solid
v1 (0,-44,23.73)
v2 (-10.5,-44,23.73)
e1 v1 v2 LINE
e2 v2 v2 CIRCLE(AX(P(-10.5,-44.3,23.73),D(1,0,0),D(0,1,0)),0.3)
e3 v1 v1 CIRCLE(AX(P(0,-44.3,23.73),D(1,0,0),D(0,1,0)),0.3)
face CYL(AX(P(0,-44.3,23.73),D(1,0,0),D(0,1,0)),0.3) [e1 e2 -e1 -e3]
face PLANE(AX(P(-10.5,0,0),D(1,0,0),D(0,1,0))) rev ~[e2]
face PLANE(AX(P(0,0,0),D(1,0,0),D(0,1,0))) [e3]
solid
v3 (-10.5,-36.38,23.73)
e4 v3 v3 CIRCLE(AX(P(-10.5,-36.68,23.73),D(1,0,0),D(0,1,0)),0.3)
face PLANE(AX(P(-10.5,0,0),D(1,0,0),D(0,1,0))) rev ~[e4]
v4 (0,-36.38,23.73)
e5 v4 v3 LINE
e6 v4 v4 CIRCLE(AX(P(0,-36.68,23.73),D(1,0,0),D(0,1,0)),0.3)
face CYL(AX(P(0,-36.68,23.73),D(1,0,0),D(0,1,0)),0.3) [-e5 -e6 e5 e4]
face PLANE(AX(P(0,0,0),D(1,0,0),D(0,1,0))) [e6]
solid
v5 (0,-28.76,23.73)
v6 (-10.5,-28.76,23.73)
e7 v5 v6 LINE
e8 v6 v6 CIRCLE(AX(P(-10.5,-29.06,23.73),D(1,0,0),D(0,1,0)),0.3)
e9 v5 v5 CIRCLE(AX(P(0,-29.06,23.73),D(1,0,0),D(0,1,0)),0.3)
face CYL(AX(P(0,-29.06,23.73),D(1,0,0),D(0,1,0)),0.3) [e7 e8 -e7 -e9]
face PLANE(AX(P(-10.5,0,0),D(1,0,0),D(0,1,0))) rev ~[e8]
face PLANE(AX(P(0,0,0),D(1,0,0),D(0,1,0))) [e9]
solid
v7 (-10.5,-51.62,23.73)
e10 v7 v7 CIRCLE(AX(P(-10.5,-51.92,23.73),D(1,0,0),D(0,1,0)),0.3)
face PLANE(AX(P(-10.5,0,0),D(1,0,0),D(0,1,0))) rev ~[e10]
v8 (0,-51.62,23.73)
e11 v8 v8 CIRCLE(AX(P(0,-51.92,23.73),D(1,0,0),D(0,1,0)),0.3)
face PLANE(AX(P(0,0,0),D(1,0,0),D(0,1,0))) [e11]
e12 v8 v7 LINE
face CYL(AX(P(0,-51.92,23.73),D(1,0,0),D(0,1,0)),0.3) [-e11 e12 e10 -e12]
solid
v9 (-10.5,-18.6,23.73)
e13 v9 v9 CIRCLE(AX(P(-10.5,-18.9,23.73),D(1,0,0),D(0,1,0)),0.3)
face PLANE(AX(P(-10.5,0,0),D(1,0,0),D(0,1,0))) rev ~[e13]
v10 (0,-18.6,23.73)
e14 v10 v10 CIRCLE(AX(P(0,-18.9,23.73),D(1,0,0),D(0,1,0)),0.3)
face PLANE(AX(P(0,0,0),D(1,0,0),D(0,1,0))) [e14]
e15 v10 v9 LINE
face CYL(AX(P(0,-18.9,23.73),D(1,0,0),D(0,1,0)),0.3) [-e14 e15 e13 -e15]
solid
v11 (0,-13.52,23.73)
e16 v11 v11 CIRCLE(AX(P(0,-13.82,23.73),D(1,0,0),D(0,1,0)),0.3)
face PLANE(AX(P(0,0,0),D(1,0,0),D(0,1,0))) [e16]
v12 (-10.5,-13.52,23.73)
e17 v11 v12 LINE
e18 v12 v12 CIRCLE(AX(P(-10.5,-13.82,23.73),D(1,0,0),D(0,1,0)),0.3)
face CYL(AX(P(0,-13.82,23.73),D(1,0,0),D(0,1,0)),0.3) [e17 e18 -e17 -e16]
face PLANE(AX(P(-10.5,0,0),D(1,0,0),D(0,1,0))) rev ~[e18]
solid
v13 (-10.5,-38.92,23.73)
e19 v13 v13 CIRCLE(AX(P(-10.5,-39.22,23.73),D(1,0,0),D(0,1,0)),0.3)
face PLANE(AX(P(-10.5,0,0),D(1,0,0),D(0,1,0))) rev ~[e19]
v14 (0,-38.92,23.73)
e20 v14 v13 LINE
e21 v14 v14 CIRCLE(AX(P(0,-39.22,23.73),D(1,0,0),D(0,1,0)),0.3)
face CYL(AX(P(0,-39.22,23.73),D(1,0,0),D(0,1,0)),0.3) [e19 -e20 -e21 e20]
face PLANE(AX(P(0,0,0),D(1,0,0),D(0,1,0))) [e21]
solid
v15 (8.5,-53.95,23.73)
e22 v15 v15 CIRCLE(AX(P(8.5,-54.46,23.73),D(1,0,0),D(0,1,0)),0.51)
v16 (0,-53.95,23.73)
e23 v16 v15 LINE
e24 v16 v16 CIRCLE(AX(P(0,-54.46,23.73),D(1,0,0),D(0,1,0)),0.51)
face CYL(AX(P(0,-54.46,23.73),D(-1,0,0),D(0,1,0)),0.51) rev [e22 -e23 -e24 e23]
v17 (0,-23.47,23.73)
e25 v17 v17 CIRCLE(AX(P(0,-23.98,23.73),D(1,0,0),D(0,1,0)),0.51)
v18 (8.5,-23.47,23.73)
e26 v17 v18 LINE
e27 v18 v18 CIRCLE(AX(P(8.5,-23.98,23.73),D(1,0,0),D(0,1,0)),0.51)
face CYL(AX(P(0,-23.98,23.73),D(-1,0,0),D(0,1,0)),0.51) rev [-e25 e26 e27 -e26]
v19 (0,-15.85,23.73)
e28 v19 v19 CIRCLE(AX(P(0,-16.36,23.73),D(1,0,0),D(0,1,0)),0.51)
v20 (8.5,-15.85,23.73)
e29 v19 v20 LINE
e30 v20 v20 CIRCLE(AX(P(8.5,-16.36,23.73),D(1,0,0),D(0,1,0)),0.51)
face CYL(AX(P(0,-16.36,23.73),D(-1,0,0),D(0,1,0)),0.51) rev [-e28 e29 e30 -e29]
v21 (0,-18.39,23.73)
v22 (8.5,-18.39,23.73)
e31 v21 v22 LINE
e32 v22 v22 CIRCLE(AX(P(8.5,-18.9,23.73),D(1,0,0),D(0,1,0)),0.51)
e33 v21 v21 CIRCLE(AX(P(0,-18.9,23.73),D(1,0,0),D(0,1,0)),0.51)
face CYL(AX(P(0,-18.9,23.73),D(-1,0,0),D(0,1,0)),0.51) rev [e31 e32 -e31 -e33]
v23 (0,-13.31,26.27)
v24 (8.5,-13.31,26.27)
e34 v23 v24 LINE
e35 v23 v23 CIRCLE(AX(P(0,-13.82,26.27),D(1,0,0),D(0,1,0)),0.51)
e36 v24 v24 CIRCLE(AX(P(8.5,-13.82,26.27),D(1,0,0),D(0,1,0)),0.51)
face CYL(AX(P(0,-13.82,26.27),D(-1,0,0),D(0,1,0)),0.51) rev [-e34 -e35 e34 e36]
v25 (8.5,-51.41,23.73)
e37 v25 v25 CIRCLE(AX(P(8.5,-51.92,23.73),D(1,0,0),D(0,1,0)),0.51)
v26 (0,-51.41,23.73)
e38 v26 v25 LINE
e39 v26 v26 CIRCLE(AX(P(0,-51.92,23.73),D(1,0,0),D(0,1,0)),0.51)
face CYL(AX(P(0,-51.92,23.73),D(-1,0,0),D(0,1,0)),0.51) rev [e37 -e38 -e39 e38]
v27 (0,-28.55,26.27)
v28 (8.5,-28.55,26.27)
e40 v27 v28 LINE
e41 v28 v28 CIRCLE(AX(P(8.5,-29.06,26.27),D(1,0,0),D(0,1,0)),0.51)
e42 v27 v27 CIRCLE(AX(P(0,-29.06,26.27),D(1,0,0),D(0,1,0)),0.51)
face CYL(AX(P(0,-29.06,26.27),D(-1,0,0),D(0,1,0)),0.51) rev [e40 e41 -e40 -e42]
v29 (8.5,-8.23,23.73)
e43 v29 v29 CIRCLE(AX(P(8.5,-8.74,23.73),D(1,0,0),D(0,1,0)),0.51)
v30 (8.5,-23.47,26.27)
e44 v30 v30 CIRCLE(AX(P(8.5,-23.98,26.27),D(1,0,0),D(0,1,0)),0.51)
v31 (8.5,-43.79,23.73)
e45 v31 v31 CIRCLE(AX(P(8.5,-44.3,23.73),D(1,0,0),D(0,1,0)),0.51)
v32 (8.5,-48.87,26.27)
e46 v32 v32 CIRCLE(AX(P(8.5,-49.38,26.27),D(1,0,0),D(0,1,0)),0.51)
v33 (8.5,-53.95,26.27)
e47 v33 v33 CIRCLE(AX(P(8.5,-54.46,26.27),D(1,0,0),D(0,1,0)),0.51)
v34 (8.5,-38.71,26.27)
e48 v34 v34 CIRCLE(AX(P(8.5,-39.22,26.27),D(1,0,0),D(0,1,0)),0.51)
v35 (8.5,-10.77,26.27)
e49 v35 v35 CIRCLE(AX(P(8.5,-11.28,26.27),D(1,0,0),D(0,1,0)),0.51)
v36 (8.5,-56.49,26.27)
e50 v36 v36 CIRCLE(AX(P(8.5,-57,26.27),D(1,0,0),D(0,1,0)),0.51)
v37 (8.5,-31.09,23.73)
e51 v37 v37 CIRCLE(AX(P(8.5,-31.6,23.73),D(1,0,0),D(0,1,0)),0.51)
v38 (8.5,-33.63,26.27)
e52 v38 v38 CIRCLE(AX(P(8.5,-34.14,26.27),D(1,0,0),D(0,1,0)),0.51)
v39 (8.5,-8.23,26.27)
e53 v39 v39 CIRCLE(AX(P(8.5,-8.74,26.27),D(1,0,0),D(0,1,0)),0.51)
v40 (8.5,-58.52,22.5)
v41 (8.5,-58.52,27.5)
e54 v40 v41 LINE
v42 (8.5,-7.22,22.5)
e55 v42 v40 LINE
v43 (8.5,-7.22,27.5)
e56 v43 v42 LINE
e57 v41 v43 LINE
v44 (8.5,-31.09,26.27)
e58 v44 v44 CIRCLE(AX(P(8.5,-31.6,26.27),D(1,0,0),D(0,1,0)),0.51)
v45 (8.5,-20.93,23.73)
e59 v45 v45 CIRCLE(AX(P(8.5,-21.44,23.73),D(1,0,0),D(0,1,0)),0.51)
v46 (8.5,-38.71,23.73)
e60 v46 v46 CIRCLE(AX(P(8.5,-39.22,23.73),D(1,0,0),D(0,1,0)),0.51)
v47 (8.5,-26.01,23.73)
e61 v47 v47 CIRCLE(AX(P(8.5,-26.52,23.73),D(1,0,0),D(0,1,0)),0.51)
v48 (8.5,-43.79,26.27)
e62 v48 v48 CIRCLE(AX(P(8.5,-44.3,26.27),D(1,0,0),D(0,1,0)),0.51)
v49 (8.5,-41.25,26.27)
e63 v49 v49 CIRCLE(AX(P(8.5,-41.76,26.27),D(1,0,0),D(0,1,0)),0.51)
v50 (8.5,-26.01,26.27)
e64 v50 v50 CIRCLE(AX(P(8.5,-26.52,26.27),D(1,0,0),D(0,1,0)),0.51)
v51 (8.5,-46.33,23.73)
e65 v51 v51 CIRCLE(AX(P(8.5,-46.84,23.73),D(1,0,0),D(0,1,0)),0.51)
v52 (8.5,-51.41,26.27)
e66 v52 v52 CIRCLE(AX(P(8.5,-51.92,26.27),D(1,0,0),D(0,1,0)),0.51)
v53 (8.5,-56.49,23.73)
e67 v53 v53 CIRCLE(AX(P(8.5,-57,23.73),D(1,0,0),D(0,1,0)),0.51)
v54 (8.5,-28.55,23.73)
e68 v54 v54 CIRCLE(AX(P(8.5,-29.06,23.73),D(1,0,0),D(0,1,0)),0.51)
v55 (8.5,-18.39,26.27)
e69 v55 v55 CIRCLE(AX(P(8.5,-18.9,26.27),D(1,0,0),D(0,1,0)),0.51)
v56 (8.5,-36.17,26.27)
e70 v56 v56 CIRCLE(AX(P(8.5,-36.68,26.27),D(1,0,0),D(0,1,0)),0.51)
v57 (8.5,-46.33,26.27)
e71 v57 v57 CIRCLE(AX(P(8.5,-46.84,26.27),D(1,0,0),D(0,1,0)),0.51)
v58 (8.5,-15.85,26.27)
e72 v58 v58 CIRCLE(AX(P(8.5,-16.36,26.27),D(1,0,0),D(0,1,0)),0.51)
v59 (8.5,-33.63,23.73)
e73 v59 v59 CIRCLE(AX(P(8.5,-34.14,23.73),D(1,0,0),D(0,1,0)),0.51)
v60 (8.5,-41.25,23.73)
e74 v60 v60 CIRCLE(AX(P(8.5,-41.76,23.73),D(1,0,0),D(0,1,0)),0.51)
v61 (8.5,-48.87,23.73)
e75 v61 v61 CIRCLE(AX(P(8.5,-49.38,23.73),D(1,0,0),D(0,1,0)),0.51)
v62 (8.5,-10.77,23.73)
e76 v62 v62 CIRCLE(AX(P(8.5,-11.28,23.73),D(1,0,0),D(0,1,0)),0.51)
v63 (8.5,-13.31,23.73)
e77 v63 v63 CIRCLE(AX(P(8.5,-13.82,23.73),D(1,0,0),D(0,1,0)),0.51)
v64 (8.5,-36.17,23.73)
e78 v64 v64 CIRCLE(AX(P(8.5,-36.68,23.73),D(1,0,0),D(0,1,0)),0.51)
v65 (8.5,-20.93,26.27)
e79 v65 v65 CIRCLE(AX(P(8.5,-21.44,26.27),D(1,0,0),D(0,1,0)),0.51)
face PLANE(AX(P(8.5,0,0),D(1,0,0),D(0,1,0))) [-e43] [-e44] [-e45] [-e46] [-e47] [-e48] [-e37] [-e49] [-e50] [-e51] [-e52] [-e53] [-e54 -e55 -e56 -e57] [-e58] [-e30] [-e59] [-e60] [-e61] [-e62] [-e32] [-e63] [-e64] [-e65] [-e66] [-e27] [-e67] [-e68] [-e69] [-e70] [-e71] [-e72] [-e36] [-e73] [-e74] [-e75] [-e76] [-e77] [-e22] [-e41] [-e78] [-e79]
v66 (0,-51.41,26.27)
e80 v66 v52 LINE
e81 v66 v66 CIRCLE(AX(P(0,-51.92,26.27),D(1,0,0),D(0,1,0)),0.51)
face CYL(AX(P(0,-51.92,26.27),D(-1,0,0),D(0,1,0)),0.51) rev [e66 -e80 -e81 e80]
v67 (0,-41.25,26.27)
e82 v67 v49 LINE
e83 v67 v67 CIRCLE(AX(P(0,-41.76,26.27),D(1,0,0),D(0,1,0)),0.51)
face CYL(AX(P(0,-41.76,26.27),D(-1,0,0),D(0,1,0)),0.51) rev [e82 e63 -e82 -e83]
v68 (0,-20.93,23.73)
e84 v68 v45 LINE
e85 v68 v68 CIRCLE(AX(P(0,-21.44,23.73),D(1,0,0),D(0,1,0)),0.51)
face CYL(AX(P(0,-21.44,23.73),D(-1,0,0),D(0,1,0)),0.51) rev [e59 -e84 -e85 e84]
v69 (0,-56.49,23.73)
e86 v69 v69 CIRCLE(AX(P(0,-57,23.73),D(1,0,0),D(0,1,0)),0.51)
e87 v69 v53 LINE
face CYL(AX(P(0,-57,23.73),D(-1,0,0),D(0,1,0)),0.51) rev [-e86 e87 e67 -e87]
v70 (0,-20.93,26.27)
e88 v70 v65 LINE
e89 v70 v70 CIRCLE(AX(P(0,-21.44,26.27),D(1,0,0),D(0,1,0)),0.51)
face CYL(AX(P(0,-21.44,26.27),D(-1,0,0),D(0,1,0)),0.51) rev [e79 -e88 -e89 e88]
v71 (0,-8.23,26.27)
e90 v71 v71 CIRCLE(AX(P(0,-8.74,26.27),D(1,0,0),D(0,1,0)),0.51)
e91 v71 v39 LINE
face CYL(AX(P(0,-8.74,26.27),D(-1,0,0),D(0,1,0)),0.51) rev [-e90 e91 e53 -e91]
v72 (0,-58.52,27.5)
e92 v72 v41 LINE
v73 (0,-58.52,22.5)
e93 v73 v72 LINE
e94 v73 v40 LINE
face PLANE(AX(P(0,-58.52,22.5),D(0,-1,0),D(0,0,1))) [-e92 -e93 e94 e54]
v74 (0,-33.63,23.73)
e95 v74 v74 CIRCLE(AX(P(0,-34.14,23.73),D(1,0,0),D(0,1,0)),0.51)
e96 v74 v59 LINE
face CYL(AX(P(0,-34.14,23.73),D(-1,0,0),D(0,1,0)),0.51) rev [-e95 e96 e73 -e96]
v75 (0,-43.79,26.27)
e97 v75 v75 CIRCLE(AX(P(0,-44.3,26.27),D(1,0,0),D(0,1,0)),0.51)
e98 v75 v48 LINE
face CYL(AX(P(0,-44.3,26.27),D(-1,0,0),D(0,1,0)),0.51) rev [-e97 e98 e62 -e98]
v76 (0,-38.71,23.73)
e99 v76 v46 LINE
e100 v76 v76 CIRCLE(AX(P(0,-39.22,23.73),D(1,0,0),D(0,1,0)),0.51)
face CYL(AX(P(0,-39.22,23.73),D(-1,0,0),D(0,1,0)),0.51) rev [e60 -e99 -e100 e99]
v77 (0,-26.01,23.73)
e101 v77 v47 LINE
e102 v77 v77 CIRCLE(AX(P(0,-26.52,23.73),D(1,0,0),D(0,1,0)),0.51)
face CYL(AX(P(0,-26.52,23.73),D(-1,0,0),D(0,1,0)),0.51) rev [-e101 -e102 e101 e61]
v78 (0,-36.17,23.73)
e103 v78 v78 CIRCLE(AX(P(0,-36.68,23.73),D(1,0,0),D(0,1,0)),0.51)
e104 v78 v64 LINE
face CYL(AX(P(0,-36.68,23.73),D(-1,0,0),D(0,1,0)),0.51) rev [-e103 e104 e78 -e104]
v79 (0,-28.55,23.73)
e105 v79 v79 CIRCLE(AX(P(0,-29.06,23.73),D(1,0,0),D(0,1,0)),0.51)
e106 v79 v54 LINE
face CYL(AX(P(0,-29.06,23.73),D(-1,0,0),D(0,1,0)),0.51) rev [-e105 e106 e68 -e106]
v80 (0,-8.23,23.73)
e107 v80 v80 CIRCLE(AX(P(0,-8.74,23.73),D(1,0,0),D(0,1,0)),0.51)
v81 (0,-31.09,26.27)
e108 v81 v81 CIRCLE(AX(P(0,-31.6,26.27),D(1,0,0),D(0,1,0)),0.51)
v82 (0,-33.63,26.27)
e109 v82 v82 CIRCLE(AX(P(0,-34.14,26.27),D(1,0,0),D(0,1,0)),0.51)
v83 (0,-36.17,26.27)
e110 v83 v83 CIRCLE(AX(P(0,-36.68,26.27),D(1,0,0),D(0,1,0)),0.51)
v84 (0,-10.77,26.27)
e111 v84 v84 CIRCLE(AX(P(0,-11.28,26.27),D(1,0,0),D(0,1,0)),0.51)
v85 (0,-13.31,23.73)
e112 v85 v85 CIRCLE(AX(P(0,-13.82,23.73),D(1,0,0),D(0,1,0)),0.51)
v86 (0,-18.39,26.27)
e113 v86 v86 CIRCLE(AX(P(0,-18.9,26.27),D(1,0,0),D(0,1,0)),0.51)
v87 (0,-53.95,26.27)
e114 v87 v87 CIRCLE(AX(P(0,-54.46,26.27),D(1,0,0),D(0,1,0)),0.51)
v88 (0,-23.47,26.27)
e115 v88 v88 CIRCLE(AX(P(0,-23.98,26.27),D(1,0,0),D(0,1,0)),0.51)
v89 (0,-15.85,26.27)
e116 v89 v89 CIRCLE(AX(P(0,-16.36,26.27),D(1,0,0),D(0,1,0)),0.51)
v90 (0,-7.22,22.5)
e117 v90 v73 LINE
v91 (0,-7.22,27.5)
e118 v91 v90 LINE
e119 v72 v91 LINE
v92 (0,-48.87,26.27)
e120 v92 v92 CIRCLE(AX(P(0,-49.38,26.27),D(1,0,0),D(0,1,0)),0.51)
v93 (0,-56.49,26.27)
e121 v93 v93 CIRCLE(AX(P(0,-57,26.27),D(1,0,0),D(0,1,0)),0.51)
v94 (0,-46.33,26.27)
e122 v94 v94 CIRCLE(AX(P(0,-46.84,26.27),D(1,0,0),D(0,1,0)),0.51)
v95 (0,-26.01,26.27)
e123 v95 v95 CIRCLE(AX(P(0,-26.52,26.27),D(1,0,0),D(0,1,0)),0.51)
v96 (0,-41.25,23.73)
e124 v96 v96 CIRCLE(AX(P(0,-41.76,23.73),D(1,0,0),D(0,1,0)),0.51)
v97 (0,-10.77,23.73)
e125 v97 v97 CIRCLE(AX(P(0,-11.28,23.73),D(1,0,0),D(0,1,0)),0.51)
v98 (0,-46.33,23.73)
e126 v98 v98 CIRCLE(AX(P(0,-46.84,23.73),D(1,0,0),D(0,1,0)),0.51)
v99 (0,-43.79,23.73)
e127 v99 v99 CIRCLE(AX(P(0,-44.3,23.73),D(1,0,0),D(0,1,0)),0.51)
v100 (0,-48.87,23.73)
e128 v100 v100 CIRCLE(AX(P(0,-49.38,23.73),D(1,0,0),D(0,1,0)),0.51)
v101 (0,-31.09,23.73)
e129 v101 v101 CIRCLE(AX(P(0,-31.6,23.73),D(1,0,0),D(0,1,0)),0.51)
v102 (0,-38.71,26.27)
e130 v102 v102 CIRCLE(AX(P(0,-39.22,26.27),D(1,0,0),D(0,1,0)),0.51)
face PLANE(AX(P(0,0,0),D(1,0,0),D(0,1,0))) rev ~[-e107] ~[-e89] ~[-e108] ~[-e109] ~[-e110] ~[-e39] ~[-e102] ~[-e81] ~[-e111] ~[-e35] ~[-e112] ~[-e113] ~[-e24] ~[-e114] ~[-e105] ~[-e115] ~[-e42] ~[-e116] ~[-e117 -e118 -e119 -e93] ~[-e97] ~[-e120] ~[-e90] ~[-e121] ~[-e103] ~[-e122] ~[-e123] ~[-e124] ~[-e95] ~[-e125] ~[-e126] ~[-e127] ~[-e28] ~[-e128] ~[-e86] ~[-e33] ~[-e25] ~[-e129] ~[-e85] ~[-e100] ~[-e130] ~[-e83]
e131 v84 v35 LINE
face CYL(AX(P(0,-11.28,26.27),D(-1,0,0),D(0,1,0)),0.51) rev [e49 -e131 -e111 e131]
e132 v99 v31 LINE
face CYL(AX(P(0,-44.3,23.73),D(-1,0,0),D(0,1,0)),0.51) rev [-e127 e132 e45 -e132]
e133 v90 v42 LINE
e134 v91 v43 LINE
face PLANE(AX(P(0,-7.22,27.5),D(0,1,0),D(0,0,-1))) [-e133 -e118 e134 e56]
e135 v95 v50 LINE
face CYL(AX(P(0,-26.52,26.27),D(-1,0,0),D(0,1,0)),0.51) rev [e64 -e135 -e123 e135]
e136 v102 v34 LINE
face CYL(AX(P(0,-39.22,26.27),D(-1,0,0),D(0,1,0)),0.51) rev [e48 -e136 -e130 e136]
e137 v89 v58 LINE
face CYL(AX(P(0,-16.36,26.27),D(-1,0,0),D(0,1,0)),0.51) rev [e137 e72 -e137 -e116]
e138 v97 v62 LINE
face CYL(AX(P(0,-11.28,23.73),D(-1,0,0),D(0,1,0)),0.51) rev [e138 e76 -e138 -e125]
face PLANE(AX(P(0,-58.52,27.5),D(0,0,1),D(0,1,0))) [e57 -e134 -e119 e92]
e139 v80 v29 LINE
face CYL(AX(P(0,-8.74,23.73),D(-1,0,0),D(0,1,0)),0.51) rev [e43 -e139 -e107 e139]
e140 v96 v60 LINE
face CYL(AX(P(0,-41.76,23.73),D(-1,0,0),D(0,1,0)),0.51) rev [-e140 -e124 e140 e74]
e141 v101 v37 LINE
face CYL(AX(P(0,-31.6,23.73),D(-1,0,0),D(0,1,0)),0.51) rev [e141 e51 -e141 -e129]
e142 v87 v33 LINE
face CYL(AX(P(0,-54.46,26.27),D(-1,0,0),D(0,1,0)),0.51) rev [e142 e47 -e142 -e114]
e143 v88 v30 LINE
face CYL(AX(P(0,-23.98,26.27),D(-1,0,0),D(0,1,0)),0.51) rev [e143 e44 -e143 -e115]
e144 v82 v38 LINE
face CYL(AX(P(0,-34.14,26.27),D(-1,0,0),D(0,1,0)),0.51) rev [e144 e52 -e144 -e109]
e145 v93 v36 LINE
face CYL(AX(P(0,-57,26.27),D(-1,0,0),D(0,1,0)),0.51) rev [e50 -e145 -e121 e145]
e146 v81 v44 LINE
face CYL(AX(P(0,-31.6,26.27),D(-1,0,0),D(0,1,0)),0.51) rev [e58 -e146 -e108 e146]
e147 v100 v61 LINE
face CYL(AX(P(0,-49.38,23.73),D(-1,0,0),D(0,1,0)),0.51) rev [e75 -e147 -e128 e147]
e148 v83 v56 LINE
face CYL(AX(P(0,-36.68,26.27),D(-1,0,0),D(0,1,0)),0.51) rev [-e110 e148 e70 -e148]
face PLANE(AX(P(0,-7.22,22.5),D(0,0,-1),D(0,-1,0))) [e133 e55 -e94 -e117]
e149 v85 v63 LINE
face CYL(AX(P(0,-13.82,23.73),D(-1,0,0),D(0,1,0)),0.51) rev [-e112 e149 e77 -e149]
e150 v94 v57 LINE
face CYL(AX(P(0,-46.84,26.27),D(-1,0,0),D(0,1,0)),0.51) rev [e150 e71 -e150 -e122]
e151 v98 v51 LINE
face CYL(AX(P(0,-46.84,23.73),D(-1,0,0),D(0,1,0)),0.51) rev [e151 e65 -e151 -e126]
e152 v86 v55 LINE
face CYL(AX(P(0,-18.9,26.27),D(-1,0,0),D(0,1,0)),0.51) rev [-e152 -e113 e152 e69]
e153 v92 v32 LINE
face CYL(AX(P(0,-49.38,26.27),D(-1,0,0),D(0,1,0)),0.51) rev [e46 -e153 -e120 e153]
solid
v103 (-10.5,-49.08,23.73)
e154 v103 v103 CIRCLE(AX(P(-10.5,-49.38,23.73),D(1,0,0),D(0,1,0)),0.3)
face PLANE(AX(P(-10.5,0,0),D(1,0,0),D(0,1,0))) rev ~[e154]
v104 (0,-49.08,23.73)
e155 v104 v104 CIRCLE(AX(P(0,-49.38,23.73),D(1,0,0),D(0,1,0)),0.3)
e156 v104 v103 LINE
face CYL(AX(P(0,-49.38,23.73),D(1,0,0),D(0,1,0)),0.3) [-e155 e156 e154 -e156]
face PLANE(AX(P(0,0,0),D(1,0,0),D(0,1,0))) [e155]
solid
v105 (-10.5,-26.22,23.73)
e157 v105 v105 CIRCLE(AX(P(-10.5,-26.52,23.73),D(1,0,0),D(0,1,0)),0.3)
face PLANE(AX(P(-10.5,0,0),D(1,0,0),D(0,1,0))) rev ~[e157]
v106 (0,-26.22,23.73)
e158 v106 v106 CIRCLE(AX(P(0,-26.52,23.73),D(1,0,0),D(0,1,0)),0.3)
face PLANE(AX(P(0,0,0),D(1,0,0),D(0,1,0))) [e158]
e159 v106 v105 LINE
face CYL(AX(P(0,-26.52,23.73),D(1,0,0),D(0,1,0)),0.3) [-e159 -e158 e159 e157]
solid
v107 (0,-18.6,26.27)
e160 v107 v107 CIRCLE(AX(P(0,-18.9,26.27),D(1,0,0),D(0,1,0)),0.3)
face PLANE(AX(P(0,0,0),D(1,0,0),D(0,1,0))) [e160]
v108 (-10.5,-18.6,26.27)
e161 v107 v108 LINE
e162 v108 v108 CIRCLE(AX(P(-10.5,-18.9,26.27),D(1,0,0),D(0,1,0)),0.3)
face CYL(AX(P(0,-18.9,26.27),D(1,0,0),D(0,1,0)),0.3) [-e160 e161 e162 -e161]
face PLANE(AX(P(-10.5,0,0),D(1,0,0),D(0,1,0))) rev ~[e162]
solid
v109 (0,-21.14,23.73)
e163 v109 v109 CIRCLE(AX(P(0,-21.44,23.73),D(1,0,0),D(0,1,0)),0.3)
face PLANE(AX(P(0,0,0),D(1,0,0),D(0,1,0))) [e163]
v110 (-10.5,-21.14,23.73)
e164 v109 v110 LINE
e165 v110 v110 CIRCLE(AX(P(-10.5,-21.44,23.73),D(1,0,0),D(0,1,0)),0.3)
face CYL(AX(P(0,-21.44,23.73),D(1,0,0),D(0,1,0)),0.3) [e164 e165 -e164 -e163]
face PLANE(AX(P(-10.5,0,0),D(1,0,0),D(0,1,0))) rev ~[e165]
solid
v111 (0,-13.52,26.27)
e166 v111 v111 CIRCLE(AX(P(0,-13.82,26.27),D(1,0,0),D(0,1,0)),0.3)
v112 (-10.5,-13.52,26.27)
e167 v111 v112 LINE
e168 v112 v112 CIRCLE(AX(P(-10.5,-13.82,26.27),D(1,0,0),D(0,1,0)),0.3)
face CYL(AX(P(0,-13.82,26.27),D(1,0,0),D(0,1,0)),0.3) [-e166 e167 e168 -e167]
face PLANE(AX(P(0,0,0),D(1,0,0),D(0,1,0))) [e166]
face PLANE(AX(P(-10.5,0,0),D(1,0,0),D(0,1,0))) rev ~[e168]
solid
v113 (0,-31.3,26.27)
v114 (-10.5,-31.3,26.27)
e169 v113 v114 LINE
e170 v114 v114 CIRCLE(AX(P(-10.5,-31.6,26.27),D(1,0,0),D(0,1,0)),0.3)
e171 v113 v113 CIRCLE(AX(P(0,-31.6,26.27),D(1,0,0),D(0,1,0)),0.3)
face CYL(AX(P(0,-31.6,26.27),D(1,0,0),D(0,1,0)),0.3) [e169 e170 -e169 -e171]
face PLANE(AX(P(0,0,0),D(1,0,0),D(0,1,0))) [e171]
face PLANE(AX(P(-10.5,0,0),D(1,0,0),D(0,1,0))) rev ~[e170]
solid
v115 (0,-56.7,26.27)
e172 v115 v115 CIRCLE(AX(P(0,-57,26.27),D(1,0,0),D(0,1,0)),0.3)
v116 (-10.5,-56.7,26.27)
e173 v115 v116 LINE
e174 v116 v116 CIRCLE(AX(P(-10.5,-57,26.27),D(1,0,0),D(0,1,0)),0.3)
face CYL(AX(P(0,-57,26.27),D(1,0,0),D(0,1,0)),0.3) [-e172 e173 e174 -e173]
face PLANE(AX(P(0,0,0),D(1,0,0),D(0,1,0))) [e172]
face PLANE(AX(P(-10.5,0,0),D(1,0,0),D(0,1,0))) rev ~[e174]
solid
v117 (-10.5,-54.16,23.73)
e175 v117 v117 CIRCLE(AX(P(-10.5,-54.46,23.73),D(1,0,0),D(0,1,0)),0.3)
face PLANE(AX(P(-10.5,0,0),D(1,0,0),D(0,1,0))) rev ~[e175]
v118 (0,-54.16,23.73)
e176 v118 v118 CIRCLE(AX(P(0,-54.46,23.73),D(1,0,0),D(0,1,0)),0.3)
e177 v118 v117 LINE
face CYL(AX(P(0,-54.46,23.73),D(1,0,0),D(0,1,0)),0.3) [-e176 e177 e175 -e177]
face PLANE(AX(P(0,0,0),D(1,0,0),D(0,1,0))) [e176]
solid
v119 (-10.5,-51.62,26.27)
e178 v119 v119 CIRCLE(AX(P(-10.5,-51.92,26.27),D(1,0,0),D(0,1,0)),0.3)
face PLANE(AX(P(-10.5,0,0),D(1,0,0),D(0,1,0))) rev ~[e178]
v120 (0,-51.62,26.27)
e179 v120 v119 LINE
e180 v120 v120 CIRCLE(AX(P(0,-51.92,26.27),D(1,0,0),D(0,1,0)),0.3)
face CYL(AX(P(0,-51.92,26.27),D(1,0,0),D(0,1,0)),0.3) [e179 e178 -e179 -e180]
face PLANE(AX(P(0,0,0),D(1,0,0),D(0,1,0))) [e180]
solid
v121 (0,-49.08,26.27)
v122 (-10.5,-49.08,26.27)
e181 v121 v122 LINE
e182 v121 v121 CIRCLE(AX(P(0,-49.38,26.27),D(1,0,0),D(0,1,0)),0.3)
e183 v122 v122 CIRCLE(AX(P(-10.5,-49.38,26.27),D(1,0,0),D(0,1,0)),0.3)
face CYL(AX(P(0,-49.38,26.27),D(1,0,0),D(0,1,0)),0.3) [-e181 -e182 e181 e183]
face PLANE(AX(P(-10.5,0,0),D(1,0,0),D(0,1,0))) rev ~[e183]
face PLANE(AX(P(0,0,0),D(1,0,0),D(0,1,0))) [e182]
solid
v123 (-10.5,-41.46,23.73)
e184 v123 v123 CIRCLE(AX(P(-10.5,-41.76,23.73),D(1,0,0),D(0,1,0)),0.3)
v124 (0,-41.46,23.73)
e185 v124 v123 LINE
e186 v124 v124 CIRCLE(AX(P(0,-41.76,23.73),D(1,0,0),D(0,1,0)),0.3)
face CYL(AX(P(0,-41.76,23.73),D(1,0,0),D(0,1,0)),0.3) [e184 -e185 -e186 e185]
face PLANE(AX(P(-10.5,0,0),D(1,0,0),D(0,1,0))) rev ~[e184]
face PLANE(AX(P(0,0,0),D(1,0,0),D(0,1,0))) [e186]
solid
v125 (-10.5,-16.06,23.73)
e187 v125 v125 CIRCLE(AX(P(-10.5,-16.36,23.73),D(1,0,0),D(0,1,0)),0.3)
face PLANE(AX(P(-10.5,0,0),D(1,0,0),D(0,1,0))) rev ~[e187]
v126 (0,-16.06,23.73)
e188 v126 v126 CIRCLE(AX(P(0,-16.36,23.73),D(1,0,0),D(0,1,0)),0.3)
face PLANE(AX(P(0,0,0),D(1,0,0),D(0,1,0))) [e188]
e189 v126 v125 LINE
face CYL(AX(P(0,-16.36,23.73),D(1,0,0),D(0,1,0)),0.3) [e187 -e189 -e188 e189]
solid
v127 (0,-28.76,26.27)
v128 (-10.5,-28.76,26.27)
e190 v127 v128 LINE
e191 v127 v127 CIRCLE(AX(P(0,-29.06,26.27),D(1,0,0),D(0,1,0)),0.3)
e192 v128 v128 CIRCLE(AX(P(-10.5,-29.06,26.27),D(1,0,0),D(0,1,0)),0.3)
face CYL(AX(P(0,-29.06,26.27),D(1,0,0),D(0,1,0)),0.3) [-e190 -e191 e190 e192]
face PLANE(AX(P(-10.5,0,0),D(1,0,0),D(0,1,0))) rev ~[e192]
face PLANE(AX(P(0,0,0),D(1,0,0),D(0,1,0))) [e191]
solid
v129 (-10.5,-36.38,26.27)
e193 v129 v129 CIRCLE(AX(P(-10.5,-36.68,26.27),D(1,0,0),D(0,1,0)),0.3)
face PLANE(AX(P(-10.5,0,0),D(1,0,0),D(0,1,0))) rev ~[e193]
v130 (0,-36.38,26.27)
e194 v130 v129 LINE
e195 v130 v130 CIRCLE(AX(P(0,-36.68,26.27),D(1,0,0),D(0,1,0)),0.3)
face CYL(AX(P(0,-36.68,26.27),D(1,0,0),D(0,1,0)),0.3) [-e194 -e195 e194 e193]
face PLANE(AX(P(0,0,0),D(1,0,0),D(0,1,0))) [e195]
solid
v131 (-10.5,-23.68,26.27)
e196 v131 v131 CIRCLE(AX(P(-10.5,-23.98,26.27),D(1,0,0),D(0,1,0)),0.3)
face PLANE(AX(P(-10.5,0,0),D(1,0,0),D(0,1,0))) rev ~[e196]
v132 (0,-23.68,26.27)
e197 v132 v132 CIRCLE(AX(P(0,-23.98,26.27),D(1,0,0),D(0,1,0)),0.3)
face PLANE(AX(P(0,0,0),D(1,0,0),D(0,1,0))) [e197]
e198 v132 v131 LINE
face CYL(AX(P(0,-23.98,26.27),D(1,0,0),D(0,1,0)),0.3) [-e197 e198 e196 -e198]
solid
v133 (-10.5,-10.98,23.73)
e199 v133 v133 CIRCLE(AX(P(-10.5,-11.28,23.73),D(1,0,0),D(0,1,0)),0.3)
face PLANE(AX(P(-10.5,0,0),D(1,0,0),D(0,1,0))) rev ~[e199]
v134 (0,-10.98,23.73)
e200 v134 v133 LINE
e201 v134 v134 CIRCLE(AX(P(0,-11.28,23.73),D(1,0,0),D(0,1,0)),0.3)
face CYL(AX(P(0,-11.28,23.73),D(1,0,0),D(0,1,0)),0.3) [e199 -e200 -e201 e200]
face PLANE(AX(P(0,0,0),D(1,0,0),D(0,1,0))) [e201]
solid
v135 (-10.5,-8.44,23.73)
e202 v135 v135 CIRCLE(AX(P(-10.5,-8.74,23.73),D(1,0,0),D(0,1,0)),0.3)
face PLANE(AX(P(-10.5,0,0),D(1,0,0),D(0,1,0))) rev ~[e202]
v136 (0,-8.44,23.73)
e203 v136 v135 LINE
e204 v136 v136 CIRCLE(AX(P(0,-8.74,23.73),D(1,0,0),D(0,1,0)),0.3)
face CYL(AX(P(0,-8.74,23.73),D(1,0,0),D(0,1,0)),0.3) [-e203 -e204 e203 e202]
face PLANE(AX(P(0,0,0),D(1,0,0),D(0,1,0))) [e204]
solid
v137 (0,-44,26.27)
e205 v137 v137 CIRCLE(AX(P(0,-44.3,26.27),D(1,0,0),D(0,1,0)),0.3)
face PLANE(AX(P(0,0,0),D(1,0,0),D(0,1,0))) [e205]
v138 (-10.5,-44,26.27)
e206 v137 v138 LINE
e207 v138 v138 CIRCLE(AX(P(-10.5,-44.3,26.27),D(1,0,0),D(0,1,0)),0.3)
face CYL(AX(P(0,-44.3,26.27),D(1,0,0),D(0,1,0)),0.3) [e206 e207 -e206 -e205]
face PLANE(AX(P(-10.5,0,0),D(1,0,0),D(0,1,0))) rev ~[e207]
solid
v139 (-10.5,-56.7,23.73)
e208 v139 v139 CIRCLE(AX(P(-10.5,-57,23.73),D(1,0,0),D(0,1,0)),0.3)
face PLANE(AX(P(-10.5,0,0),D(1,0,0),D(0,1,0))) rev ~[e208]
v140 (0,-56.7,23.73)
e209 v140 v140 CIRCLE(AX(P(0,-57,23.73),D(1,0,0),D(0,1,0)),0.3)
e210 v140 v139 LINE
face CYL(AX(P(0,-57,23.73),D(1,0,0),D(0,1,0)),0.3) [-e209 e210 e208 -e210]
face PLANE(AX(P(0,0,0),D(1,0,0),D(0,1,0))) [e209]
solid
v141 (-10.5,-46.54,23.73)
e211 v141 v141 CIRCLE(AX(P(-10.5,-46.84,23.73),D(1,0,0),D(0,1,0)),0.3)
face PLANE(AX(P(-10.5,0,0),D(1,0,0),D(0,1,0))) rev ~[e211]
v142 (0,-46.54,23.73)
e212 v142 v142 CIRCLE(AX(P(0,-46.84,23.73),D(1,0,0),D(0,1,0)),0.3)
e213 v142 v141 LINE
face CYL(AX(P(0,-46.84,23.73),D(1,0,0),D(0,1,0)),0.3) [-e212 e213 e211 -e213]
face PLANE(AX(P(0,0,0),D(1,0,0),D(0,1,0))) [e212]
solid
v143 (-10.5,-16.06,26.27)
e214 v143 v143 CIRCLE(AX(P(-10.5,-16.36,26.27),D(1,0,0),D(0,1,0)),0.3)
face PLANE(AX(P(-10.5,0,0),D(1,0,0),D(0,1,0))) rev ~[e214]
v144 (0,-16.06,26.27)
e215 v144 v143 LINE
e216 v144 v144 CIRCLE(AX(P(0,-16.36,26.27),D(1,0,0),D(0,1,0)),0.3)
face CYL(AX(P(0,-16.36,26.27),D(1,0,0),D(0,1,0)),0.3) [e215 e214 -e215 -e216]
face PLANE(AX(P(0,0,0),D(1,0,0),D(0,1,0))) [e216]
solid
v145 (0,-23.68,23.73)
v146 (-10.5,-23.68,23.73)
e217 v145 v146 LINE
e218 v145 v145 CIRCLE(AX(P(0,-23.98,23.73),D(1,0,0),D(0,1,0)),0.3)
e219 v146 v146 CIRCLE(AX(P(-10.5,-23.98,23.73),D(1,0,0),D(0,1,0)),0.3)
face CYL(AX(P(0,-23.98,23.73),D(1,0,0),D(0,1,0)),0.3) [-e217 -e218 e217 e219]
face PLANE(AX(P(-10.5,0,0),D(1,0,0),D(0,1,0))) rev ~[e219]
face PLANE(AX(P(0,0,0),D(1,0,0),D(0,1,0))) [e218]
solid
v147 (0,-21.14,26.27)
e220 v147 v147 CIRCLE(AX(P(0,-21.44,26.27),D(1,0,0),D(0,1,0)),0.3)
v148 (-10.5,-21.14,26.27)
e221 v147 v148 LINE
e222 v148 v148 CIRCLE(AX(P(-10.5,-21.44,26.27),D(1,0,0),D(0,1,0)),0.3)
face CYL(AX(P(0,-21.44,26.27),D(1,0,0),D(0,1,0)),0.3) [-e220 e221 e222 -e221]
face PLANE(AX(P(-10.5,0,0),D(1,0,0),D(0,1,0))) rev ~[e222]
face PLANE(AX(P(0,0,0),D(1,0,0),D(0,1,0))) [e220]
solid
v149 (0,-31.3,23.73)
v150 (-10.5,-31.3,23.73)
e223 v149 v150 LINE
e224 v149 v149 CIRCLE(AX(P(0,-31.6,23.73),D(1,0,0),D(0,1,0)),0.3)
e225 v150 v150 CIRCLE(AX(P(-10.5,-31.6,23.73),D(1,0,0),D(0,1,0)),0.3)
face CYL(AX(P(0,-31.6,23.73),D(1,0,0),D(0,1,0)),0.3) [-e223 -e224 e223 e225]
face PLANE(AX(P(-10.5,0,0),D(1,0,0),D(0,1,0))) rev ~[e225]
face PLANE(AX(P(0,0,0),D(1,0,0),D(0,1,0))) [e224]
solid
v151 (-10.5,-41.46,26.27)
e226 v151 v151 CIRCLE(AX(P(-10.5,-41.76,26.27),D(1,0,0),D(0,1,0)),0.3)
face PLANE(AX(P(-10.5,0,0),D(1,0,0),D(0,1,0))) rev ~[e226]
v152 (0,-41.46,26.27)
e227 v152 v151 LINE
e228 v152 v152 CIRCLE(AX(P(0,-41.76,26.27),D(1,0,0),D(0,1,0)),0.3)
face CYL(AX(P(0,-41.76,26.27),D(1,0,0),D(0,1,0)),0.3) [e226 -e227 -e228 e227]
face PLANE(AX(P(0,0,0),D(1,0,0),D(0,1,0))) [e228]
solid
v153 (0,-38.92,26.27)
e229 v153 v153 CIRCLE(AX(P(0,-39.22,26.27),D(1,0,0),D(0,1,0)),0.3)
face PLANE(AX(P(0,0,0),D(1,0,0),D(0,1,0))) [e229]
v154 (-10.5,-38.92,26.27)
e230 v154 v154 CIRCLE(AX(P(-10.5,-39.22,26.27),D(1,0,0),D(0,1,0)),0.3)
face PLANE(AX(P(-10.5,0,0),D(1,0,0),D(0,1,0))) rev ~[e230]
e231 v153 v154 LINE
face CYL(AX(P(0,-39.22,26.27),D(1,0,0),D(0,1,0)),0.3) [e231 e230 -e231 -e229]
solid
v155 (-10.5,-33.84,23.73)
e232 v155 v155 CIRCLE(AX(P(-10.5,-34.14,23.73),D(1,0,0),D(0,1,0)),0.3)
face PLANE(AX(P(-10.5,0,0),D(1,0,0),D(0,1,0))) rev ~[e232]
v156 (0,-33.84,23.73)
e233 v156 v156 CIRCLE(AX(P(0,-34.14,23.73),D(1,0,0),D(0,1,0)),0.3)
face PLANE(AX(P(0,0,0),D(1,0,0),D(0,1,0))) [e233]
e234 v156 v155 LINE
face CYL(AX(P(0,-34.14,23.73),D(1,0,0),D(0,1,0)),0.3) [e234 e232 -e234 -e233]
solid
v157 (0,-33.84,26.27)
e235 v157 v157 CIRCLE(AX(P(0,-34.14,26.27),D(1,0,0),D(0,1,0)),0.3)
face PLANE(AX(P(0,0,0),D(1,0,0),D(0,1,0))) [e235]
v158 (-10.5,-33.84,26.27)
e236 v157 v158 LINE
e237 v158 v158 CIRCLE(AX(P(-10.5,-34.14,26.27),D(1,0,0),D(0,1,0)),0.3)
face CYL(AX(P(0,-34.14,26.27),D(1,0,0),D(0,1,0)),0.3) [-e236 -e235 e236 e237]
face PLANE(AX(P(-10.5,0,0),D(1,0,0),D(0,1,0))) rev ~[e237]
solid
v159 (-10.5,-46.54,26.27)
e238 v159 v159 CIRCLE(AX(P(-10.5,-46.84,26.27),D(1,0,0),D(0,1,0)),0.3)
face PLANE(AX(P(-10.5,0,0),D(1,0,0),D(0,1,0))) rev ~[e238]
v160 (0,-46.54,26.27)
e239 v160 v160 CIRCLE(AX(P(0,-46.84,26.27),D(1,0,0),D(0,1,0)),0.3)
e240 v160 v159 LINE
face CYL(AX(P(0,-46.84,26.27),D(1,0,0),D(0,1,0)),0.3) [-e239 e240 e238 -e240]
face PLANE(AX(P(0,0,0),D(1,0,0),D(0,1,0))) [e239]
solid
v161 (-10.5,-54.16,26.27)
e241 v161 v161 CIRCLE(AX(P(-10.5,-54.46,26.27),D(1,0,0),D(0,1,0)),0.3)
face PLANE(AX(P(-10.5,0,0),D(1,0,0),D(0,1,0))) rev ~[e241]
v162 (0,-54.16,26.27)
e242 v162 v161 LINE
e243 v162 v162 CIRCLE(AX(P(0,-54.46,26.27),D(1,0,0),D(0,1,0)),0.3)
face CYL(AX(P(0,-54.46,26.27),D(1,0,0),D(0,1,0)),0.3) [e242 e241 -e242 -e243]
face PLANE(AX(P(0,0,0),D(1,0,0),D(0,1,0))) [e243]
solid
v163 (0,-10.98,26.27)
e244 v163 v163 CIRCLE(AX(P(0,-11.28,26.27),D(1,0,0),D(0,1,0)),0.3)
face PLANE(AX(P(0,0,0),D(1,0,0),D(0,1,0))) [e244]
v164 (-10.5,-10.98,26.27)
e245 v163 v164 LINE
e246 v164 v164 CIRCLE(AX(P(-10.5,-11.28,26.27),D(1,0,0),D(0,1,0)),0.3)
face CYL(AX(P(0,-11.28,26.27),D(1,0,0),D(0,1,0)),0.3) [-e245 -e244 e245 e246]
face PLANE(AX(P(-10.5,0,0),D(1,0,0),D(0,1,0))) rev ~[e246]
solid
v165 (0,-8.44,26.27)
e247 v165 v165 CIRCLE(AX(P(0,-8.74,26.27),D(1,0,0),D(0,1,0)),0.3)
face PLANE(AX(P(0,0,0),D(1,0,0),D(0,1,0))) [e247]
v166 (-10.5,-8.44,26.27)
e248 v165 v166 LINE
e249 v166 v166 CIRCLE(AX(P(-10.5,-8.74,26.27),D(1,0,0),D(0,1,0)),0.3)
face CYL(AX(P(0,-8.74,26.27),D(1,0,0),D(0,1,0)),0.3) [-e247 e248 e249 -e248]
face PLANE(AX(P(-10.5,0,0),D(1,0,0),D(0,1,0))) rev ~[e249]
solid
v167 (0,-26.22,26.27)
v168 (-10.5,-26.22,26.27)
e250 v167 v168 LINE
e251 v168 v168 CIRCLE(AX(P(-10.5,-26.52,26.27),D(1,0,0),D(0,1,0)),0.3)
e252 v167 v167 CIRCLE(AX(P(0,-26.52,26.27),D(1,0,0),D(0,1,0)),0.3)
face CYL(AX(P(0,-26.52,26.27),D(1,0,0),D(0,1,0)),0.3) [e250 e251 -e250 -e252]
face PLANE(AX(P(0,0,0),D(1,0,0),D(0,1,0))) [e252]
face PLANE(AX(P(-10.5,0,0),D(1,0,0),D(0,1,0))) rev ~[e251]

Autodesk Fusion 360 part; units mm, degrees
sketch "Sketch2" plane through (0, 0, 0) normal (1, 0, 0) x (0, 1, 0)
  line L0 (-58.52, 27.5) -> (-7.22, 27.5)
  line L1 (-7.22, 27.5) -> (-7.22, 22.5)
  line L2 (-7.22, 22.5) -> (-58.52, 22.5)
  line L3 (-58.52, 22.5) -> (-58.52, 27.5)
  circle A0 centre (-57, 23.73) radius 0.51
  circle A1 centre (-54.46, 23.73) radius 0.51
  circle A2 centre (-51.92, 23.73) radius 0.51
  circle A3 centre (-49.38, 23.73) radius 0.51
  circle A4 centre (-46.84, 23.73) radius 0.51
  circle A5 centre (-44.3, 23.73) radius 0.51
  circle A6 centre (-41.76, 23.73) radius 0.51
  circle A7 centre (-39.22, 23.73) radius 0.51
  circle A8 centre (-36.68, 23.73) radius 0.51
  circle A9 centre (-34.14, 23.73) radius 0.51
  circle A10 centre (-31.6, 23.73) radius 0.51
  circle A11 centre (-29.06, 23.73) radius 0.51
  circle A12 centre (-26.52, 23.73) radius 0.51
  circle A13 centre (-23.98, 23.73) radius 0.51
  circle A14 centre (-21.44, 23.73) radius 0.51
  circle A15 centre (-18.9, 23.73) radius 0.51
  circle A16 centre (-16.36, 23.73) radius 0.51
  circle A17 centre (-13.82, 23.73) radius 0.51
  circle A18 centre (-11.28, 23.73) radius 0.51
  circle A19 centre (-8.74, 23.73) radius 0.51
  circle A20 centre (-57, 26.27) radius 0.51
  circle A21 centre (-54.46, 26.27) radius 0.51
  circle A22 centre (-51.92, 26.27) radius 0.51
  circle A23 centre (-49.38, 26.27) radius 0.51
  circle A24 centre (-46.84, 26.27) radius 0.51
  circle A25 centre (-44.3, 26.27) radius 0.51
  circle A26 centre (-41.76, 26.27) radius 0.51
  circle A27 centre (-39.22, 26.27) radius 0.51
  circle A28 centre (-36.68, 26.27) radius 0.51
  circle A29 centre (-34.14, 26.27) radius 0.51
  circle A30 centre (-31.6, 26.27) radius 0.51
  circle A31 centre (-29.06, 26.27) radius 0.51
  circle A32 centre (-26.52, 26.27) radius 0.51
  circle A33 centre (-23.98, 26.27) radius 0.51
  circle A34 centre (-21.44, 26.27) radius 0.51
  circle A35 centre (-18.9, 26.27) radius 0.51
  circle A36 centre (-16.36, 26.27) radius 0.51
  circle A37 centre (-13.82, 26.27) radius 0.51
  circle A38 centre (-11.28, 26.27) radius 0.51
  circle A39 centre (-8.74, 26.27) radius 0.51
  line L4 (-57, 26.27) -> (-57, 23.73) construction
  line L5 (-57, 23.73) -> (-57, 25) construction
  line L6 (-57, 25) -> (-58.52, 25) construction
  line L7 (-8.74, 26.27) -> (-8.74, 23.73) construction
  line L8 (-8.74, 25) -> (-7.22, 25) construction
  dimension "d7" = 51.3
  dimension "d8" = 5
  dimension "d9" = 1.02
  dimension "d12" = 2.54
  dimension "d13" = 2.54
extrude "Extrude2" add sketch "Sketch2" along normal blind 8.5 makes body 1
sketch "Sketch4" plane through (0, 0, 0) normal (1, 0, 0) x (0, 1, 0)
  circle A0 centre (-57, 26.27) radius 0.51
  circle A1 centre (-57, 26.27) radius 0.3
  circle A2 centre (-54.46, 26.27) radius 0.3
  circle A3 centre (-51.92, 26.27) radius 0.3
  circle A4 centre (-49.38, 26.27) radius 0.3
  circle A5 centre (-46.84, 26.27) radius 0.3
  circle A6 centre (-44.3, 26.27) radius 0.3
  circle A7 centre (-41.76, 26.27) radius 0.3
  circle A8 centre (-39.22, 26.27) radius 0.3
  circle A9 centre (-36.68, 26.27) radius 0.3
  circle A10 centre (-34.14, 26.27) radius 0.3
  circle A11 centre (-31.6, 26.27) radius 0.3
  circle A12 centre (-29.06, 26.27) radius 0.3
  circle A13 centre (-26.52, 26.27) radius 0.3
  circle A14 centre (-23.98, 26.27) radius 0.3
  circle A15 centre (-21.44, 26.27) radius 0.3
  circle A16 centre (-18.9, 26.27) radius 0.3
  circle A17 centre (-16.36, 26.27) radius 0.3
  circle A18 centre (-13.82, 26.27) radius 0.3
  circle A19 centre (-11.28, 26.27) radius 0.3
  circle A20 centre (-8.74, 26.27) radius 0.3
  circle A21 centre (-57, 23.73) radius 0.3
  circle A22 centre (-54.46, 23.73) radius 0.3
  circle A23 centre (-51.92, 23.73) radius 0.3
  circle A24 centre (-49.38, 23.73) radius 0.3
  circle A25 centre (-46.84, 23.73) radius 0.3
  circle A26 centre (-44.3, 23.73) radius 0.3
  circle A27 centre (-41.76, 23.73) radius 0.3
  circle A28 centre (-39.22, 23.73) radius 0.3
  circle A29 centre (-36.68, 23.73) radius 0.3
  circle A30 centre (-34.14, 23.73) radius 0.3
  circle A31 centre (-31.6, 23.73) radius 0.3
  circle A32 centre (-29.06, 23.73) radius 0.3
  circle A33 centre (-26.52, 23.73) radius 0.3
  circle A34 centre (-23.98, 23.73) radius 0.3
  circle A35 centre (-21.44, 23.73) radius 0.3
  circle A36 centre (-18.9, 23.73) radius 0.3
  circle A37 centre (-16.36, 23.73) radius 0.3
  circle A38 centre (-13.82, 23.73) radius 0.3
  circle A39 centre (-11.28, 23.73) radius 0.3
  circle A40 centre (-8.74, 23.73) radius 0.3
  dimension "d16" = 0.6
  dimension "d19" = 2.54
  dimension "d20" = -2.54
extrude "Extrude3" add sketch "Sketch4" against normal blind 10.5 separate body contours A1 | A2 | A3 | A4 | A5 | A6 | A7 | A8 | A9 | A10 | A11 | A12 | A13 | A14 | A15 | A16 | A17 | A18 | A19 | A20 | A21 | A22 | A23 | A24 | A25 | A26 | A27 | A28 | A29 | A30 | A31 | A32 | A33 | A34 | A35 | A36 | A37 | A38 | A39 | A40 makes body 2 at (-7, -36.6875, 24.0299) makes body 3 at (-7, -34.1475, 26.5699) makes body 4 at (-7, -44.3075, 26.5699) makes body 5 at (-7, -29.3235, 26.1265) makes body 6 at (-7, -44.3075, 24.0299) makes body 7 at (-7, -11.5435, 26.1265) makes body 8 at (-7, -14.0835, 23.5865) makes body 9 at (-7, -21.7035, 26.1265) makes body 10 at (-7, -51.9275, 24.0299) makes body 11 at (-7, -57.0075, 24.0299) makes body 12 at (-7, -54.4675, 26.5699) makes body 13 at (-7, -9.0035, 26.1265) makes body 14 at (-7, -19.1635, 26.1265) makes body 15 at (-7, -24.2435, 23.5865) makes body 16 at (-7, -11.5435, 23.5865) makes body 17 at (-7, -39.2275, 24.0299) makes body 18 at (-7, -31.8635, 23.5865) makes body 19 at (-7, -39.2275, 26.5699) makes body 20 at (-7, -29.3235, 23.5865) makes body 21 at (-7, -46.8475, 24.0299) makes body 22 at (-7, -34.1475, 24.0299) makes body 23 at (-7, -36.6875, 26.5699) makes body 24 at (-7, -26.7835, 23.5865) makes body 25 at (-7, -26.7835, 26.1265) makes body 26 at (-7, -41.7675, 24.0299) makes body 27 at (-7, -14.0835, 26.1265) makes body 28 at (-7, -16.6235, 26.1265) makes body 29 at (-7, -24.2435, 26.1265) makes body 30 at (-7, -51.9275, 26.5699) makes body 31 at (-7, -57.0075, 26.5699) makes body 32 at (-7, -54.4675, 24.0299) makes body 33 at (-7, -9.0035, 23.5865) makes body 34 at (-7, -16.6235, 23.5865) makes body 35 at (-7, -21.7035, 23.5865) makes body 36 at (-7, -19.1635, 23.5865) makes body 37 at (-7, -31.8635, 26.1265) makes body 38 at (-7, -41.7675, 26.5699) makes body 39 at (-7, -49.3875, 26.5699) makes body 40 at (-7, -46.8475, 26.5699) makes body 41 at (-7, -49.3875, 24.0299)
equation "d7 = ( 2.54 * 20 ) * 1 mm + 0.5 mm"
